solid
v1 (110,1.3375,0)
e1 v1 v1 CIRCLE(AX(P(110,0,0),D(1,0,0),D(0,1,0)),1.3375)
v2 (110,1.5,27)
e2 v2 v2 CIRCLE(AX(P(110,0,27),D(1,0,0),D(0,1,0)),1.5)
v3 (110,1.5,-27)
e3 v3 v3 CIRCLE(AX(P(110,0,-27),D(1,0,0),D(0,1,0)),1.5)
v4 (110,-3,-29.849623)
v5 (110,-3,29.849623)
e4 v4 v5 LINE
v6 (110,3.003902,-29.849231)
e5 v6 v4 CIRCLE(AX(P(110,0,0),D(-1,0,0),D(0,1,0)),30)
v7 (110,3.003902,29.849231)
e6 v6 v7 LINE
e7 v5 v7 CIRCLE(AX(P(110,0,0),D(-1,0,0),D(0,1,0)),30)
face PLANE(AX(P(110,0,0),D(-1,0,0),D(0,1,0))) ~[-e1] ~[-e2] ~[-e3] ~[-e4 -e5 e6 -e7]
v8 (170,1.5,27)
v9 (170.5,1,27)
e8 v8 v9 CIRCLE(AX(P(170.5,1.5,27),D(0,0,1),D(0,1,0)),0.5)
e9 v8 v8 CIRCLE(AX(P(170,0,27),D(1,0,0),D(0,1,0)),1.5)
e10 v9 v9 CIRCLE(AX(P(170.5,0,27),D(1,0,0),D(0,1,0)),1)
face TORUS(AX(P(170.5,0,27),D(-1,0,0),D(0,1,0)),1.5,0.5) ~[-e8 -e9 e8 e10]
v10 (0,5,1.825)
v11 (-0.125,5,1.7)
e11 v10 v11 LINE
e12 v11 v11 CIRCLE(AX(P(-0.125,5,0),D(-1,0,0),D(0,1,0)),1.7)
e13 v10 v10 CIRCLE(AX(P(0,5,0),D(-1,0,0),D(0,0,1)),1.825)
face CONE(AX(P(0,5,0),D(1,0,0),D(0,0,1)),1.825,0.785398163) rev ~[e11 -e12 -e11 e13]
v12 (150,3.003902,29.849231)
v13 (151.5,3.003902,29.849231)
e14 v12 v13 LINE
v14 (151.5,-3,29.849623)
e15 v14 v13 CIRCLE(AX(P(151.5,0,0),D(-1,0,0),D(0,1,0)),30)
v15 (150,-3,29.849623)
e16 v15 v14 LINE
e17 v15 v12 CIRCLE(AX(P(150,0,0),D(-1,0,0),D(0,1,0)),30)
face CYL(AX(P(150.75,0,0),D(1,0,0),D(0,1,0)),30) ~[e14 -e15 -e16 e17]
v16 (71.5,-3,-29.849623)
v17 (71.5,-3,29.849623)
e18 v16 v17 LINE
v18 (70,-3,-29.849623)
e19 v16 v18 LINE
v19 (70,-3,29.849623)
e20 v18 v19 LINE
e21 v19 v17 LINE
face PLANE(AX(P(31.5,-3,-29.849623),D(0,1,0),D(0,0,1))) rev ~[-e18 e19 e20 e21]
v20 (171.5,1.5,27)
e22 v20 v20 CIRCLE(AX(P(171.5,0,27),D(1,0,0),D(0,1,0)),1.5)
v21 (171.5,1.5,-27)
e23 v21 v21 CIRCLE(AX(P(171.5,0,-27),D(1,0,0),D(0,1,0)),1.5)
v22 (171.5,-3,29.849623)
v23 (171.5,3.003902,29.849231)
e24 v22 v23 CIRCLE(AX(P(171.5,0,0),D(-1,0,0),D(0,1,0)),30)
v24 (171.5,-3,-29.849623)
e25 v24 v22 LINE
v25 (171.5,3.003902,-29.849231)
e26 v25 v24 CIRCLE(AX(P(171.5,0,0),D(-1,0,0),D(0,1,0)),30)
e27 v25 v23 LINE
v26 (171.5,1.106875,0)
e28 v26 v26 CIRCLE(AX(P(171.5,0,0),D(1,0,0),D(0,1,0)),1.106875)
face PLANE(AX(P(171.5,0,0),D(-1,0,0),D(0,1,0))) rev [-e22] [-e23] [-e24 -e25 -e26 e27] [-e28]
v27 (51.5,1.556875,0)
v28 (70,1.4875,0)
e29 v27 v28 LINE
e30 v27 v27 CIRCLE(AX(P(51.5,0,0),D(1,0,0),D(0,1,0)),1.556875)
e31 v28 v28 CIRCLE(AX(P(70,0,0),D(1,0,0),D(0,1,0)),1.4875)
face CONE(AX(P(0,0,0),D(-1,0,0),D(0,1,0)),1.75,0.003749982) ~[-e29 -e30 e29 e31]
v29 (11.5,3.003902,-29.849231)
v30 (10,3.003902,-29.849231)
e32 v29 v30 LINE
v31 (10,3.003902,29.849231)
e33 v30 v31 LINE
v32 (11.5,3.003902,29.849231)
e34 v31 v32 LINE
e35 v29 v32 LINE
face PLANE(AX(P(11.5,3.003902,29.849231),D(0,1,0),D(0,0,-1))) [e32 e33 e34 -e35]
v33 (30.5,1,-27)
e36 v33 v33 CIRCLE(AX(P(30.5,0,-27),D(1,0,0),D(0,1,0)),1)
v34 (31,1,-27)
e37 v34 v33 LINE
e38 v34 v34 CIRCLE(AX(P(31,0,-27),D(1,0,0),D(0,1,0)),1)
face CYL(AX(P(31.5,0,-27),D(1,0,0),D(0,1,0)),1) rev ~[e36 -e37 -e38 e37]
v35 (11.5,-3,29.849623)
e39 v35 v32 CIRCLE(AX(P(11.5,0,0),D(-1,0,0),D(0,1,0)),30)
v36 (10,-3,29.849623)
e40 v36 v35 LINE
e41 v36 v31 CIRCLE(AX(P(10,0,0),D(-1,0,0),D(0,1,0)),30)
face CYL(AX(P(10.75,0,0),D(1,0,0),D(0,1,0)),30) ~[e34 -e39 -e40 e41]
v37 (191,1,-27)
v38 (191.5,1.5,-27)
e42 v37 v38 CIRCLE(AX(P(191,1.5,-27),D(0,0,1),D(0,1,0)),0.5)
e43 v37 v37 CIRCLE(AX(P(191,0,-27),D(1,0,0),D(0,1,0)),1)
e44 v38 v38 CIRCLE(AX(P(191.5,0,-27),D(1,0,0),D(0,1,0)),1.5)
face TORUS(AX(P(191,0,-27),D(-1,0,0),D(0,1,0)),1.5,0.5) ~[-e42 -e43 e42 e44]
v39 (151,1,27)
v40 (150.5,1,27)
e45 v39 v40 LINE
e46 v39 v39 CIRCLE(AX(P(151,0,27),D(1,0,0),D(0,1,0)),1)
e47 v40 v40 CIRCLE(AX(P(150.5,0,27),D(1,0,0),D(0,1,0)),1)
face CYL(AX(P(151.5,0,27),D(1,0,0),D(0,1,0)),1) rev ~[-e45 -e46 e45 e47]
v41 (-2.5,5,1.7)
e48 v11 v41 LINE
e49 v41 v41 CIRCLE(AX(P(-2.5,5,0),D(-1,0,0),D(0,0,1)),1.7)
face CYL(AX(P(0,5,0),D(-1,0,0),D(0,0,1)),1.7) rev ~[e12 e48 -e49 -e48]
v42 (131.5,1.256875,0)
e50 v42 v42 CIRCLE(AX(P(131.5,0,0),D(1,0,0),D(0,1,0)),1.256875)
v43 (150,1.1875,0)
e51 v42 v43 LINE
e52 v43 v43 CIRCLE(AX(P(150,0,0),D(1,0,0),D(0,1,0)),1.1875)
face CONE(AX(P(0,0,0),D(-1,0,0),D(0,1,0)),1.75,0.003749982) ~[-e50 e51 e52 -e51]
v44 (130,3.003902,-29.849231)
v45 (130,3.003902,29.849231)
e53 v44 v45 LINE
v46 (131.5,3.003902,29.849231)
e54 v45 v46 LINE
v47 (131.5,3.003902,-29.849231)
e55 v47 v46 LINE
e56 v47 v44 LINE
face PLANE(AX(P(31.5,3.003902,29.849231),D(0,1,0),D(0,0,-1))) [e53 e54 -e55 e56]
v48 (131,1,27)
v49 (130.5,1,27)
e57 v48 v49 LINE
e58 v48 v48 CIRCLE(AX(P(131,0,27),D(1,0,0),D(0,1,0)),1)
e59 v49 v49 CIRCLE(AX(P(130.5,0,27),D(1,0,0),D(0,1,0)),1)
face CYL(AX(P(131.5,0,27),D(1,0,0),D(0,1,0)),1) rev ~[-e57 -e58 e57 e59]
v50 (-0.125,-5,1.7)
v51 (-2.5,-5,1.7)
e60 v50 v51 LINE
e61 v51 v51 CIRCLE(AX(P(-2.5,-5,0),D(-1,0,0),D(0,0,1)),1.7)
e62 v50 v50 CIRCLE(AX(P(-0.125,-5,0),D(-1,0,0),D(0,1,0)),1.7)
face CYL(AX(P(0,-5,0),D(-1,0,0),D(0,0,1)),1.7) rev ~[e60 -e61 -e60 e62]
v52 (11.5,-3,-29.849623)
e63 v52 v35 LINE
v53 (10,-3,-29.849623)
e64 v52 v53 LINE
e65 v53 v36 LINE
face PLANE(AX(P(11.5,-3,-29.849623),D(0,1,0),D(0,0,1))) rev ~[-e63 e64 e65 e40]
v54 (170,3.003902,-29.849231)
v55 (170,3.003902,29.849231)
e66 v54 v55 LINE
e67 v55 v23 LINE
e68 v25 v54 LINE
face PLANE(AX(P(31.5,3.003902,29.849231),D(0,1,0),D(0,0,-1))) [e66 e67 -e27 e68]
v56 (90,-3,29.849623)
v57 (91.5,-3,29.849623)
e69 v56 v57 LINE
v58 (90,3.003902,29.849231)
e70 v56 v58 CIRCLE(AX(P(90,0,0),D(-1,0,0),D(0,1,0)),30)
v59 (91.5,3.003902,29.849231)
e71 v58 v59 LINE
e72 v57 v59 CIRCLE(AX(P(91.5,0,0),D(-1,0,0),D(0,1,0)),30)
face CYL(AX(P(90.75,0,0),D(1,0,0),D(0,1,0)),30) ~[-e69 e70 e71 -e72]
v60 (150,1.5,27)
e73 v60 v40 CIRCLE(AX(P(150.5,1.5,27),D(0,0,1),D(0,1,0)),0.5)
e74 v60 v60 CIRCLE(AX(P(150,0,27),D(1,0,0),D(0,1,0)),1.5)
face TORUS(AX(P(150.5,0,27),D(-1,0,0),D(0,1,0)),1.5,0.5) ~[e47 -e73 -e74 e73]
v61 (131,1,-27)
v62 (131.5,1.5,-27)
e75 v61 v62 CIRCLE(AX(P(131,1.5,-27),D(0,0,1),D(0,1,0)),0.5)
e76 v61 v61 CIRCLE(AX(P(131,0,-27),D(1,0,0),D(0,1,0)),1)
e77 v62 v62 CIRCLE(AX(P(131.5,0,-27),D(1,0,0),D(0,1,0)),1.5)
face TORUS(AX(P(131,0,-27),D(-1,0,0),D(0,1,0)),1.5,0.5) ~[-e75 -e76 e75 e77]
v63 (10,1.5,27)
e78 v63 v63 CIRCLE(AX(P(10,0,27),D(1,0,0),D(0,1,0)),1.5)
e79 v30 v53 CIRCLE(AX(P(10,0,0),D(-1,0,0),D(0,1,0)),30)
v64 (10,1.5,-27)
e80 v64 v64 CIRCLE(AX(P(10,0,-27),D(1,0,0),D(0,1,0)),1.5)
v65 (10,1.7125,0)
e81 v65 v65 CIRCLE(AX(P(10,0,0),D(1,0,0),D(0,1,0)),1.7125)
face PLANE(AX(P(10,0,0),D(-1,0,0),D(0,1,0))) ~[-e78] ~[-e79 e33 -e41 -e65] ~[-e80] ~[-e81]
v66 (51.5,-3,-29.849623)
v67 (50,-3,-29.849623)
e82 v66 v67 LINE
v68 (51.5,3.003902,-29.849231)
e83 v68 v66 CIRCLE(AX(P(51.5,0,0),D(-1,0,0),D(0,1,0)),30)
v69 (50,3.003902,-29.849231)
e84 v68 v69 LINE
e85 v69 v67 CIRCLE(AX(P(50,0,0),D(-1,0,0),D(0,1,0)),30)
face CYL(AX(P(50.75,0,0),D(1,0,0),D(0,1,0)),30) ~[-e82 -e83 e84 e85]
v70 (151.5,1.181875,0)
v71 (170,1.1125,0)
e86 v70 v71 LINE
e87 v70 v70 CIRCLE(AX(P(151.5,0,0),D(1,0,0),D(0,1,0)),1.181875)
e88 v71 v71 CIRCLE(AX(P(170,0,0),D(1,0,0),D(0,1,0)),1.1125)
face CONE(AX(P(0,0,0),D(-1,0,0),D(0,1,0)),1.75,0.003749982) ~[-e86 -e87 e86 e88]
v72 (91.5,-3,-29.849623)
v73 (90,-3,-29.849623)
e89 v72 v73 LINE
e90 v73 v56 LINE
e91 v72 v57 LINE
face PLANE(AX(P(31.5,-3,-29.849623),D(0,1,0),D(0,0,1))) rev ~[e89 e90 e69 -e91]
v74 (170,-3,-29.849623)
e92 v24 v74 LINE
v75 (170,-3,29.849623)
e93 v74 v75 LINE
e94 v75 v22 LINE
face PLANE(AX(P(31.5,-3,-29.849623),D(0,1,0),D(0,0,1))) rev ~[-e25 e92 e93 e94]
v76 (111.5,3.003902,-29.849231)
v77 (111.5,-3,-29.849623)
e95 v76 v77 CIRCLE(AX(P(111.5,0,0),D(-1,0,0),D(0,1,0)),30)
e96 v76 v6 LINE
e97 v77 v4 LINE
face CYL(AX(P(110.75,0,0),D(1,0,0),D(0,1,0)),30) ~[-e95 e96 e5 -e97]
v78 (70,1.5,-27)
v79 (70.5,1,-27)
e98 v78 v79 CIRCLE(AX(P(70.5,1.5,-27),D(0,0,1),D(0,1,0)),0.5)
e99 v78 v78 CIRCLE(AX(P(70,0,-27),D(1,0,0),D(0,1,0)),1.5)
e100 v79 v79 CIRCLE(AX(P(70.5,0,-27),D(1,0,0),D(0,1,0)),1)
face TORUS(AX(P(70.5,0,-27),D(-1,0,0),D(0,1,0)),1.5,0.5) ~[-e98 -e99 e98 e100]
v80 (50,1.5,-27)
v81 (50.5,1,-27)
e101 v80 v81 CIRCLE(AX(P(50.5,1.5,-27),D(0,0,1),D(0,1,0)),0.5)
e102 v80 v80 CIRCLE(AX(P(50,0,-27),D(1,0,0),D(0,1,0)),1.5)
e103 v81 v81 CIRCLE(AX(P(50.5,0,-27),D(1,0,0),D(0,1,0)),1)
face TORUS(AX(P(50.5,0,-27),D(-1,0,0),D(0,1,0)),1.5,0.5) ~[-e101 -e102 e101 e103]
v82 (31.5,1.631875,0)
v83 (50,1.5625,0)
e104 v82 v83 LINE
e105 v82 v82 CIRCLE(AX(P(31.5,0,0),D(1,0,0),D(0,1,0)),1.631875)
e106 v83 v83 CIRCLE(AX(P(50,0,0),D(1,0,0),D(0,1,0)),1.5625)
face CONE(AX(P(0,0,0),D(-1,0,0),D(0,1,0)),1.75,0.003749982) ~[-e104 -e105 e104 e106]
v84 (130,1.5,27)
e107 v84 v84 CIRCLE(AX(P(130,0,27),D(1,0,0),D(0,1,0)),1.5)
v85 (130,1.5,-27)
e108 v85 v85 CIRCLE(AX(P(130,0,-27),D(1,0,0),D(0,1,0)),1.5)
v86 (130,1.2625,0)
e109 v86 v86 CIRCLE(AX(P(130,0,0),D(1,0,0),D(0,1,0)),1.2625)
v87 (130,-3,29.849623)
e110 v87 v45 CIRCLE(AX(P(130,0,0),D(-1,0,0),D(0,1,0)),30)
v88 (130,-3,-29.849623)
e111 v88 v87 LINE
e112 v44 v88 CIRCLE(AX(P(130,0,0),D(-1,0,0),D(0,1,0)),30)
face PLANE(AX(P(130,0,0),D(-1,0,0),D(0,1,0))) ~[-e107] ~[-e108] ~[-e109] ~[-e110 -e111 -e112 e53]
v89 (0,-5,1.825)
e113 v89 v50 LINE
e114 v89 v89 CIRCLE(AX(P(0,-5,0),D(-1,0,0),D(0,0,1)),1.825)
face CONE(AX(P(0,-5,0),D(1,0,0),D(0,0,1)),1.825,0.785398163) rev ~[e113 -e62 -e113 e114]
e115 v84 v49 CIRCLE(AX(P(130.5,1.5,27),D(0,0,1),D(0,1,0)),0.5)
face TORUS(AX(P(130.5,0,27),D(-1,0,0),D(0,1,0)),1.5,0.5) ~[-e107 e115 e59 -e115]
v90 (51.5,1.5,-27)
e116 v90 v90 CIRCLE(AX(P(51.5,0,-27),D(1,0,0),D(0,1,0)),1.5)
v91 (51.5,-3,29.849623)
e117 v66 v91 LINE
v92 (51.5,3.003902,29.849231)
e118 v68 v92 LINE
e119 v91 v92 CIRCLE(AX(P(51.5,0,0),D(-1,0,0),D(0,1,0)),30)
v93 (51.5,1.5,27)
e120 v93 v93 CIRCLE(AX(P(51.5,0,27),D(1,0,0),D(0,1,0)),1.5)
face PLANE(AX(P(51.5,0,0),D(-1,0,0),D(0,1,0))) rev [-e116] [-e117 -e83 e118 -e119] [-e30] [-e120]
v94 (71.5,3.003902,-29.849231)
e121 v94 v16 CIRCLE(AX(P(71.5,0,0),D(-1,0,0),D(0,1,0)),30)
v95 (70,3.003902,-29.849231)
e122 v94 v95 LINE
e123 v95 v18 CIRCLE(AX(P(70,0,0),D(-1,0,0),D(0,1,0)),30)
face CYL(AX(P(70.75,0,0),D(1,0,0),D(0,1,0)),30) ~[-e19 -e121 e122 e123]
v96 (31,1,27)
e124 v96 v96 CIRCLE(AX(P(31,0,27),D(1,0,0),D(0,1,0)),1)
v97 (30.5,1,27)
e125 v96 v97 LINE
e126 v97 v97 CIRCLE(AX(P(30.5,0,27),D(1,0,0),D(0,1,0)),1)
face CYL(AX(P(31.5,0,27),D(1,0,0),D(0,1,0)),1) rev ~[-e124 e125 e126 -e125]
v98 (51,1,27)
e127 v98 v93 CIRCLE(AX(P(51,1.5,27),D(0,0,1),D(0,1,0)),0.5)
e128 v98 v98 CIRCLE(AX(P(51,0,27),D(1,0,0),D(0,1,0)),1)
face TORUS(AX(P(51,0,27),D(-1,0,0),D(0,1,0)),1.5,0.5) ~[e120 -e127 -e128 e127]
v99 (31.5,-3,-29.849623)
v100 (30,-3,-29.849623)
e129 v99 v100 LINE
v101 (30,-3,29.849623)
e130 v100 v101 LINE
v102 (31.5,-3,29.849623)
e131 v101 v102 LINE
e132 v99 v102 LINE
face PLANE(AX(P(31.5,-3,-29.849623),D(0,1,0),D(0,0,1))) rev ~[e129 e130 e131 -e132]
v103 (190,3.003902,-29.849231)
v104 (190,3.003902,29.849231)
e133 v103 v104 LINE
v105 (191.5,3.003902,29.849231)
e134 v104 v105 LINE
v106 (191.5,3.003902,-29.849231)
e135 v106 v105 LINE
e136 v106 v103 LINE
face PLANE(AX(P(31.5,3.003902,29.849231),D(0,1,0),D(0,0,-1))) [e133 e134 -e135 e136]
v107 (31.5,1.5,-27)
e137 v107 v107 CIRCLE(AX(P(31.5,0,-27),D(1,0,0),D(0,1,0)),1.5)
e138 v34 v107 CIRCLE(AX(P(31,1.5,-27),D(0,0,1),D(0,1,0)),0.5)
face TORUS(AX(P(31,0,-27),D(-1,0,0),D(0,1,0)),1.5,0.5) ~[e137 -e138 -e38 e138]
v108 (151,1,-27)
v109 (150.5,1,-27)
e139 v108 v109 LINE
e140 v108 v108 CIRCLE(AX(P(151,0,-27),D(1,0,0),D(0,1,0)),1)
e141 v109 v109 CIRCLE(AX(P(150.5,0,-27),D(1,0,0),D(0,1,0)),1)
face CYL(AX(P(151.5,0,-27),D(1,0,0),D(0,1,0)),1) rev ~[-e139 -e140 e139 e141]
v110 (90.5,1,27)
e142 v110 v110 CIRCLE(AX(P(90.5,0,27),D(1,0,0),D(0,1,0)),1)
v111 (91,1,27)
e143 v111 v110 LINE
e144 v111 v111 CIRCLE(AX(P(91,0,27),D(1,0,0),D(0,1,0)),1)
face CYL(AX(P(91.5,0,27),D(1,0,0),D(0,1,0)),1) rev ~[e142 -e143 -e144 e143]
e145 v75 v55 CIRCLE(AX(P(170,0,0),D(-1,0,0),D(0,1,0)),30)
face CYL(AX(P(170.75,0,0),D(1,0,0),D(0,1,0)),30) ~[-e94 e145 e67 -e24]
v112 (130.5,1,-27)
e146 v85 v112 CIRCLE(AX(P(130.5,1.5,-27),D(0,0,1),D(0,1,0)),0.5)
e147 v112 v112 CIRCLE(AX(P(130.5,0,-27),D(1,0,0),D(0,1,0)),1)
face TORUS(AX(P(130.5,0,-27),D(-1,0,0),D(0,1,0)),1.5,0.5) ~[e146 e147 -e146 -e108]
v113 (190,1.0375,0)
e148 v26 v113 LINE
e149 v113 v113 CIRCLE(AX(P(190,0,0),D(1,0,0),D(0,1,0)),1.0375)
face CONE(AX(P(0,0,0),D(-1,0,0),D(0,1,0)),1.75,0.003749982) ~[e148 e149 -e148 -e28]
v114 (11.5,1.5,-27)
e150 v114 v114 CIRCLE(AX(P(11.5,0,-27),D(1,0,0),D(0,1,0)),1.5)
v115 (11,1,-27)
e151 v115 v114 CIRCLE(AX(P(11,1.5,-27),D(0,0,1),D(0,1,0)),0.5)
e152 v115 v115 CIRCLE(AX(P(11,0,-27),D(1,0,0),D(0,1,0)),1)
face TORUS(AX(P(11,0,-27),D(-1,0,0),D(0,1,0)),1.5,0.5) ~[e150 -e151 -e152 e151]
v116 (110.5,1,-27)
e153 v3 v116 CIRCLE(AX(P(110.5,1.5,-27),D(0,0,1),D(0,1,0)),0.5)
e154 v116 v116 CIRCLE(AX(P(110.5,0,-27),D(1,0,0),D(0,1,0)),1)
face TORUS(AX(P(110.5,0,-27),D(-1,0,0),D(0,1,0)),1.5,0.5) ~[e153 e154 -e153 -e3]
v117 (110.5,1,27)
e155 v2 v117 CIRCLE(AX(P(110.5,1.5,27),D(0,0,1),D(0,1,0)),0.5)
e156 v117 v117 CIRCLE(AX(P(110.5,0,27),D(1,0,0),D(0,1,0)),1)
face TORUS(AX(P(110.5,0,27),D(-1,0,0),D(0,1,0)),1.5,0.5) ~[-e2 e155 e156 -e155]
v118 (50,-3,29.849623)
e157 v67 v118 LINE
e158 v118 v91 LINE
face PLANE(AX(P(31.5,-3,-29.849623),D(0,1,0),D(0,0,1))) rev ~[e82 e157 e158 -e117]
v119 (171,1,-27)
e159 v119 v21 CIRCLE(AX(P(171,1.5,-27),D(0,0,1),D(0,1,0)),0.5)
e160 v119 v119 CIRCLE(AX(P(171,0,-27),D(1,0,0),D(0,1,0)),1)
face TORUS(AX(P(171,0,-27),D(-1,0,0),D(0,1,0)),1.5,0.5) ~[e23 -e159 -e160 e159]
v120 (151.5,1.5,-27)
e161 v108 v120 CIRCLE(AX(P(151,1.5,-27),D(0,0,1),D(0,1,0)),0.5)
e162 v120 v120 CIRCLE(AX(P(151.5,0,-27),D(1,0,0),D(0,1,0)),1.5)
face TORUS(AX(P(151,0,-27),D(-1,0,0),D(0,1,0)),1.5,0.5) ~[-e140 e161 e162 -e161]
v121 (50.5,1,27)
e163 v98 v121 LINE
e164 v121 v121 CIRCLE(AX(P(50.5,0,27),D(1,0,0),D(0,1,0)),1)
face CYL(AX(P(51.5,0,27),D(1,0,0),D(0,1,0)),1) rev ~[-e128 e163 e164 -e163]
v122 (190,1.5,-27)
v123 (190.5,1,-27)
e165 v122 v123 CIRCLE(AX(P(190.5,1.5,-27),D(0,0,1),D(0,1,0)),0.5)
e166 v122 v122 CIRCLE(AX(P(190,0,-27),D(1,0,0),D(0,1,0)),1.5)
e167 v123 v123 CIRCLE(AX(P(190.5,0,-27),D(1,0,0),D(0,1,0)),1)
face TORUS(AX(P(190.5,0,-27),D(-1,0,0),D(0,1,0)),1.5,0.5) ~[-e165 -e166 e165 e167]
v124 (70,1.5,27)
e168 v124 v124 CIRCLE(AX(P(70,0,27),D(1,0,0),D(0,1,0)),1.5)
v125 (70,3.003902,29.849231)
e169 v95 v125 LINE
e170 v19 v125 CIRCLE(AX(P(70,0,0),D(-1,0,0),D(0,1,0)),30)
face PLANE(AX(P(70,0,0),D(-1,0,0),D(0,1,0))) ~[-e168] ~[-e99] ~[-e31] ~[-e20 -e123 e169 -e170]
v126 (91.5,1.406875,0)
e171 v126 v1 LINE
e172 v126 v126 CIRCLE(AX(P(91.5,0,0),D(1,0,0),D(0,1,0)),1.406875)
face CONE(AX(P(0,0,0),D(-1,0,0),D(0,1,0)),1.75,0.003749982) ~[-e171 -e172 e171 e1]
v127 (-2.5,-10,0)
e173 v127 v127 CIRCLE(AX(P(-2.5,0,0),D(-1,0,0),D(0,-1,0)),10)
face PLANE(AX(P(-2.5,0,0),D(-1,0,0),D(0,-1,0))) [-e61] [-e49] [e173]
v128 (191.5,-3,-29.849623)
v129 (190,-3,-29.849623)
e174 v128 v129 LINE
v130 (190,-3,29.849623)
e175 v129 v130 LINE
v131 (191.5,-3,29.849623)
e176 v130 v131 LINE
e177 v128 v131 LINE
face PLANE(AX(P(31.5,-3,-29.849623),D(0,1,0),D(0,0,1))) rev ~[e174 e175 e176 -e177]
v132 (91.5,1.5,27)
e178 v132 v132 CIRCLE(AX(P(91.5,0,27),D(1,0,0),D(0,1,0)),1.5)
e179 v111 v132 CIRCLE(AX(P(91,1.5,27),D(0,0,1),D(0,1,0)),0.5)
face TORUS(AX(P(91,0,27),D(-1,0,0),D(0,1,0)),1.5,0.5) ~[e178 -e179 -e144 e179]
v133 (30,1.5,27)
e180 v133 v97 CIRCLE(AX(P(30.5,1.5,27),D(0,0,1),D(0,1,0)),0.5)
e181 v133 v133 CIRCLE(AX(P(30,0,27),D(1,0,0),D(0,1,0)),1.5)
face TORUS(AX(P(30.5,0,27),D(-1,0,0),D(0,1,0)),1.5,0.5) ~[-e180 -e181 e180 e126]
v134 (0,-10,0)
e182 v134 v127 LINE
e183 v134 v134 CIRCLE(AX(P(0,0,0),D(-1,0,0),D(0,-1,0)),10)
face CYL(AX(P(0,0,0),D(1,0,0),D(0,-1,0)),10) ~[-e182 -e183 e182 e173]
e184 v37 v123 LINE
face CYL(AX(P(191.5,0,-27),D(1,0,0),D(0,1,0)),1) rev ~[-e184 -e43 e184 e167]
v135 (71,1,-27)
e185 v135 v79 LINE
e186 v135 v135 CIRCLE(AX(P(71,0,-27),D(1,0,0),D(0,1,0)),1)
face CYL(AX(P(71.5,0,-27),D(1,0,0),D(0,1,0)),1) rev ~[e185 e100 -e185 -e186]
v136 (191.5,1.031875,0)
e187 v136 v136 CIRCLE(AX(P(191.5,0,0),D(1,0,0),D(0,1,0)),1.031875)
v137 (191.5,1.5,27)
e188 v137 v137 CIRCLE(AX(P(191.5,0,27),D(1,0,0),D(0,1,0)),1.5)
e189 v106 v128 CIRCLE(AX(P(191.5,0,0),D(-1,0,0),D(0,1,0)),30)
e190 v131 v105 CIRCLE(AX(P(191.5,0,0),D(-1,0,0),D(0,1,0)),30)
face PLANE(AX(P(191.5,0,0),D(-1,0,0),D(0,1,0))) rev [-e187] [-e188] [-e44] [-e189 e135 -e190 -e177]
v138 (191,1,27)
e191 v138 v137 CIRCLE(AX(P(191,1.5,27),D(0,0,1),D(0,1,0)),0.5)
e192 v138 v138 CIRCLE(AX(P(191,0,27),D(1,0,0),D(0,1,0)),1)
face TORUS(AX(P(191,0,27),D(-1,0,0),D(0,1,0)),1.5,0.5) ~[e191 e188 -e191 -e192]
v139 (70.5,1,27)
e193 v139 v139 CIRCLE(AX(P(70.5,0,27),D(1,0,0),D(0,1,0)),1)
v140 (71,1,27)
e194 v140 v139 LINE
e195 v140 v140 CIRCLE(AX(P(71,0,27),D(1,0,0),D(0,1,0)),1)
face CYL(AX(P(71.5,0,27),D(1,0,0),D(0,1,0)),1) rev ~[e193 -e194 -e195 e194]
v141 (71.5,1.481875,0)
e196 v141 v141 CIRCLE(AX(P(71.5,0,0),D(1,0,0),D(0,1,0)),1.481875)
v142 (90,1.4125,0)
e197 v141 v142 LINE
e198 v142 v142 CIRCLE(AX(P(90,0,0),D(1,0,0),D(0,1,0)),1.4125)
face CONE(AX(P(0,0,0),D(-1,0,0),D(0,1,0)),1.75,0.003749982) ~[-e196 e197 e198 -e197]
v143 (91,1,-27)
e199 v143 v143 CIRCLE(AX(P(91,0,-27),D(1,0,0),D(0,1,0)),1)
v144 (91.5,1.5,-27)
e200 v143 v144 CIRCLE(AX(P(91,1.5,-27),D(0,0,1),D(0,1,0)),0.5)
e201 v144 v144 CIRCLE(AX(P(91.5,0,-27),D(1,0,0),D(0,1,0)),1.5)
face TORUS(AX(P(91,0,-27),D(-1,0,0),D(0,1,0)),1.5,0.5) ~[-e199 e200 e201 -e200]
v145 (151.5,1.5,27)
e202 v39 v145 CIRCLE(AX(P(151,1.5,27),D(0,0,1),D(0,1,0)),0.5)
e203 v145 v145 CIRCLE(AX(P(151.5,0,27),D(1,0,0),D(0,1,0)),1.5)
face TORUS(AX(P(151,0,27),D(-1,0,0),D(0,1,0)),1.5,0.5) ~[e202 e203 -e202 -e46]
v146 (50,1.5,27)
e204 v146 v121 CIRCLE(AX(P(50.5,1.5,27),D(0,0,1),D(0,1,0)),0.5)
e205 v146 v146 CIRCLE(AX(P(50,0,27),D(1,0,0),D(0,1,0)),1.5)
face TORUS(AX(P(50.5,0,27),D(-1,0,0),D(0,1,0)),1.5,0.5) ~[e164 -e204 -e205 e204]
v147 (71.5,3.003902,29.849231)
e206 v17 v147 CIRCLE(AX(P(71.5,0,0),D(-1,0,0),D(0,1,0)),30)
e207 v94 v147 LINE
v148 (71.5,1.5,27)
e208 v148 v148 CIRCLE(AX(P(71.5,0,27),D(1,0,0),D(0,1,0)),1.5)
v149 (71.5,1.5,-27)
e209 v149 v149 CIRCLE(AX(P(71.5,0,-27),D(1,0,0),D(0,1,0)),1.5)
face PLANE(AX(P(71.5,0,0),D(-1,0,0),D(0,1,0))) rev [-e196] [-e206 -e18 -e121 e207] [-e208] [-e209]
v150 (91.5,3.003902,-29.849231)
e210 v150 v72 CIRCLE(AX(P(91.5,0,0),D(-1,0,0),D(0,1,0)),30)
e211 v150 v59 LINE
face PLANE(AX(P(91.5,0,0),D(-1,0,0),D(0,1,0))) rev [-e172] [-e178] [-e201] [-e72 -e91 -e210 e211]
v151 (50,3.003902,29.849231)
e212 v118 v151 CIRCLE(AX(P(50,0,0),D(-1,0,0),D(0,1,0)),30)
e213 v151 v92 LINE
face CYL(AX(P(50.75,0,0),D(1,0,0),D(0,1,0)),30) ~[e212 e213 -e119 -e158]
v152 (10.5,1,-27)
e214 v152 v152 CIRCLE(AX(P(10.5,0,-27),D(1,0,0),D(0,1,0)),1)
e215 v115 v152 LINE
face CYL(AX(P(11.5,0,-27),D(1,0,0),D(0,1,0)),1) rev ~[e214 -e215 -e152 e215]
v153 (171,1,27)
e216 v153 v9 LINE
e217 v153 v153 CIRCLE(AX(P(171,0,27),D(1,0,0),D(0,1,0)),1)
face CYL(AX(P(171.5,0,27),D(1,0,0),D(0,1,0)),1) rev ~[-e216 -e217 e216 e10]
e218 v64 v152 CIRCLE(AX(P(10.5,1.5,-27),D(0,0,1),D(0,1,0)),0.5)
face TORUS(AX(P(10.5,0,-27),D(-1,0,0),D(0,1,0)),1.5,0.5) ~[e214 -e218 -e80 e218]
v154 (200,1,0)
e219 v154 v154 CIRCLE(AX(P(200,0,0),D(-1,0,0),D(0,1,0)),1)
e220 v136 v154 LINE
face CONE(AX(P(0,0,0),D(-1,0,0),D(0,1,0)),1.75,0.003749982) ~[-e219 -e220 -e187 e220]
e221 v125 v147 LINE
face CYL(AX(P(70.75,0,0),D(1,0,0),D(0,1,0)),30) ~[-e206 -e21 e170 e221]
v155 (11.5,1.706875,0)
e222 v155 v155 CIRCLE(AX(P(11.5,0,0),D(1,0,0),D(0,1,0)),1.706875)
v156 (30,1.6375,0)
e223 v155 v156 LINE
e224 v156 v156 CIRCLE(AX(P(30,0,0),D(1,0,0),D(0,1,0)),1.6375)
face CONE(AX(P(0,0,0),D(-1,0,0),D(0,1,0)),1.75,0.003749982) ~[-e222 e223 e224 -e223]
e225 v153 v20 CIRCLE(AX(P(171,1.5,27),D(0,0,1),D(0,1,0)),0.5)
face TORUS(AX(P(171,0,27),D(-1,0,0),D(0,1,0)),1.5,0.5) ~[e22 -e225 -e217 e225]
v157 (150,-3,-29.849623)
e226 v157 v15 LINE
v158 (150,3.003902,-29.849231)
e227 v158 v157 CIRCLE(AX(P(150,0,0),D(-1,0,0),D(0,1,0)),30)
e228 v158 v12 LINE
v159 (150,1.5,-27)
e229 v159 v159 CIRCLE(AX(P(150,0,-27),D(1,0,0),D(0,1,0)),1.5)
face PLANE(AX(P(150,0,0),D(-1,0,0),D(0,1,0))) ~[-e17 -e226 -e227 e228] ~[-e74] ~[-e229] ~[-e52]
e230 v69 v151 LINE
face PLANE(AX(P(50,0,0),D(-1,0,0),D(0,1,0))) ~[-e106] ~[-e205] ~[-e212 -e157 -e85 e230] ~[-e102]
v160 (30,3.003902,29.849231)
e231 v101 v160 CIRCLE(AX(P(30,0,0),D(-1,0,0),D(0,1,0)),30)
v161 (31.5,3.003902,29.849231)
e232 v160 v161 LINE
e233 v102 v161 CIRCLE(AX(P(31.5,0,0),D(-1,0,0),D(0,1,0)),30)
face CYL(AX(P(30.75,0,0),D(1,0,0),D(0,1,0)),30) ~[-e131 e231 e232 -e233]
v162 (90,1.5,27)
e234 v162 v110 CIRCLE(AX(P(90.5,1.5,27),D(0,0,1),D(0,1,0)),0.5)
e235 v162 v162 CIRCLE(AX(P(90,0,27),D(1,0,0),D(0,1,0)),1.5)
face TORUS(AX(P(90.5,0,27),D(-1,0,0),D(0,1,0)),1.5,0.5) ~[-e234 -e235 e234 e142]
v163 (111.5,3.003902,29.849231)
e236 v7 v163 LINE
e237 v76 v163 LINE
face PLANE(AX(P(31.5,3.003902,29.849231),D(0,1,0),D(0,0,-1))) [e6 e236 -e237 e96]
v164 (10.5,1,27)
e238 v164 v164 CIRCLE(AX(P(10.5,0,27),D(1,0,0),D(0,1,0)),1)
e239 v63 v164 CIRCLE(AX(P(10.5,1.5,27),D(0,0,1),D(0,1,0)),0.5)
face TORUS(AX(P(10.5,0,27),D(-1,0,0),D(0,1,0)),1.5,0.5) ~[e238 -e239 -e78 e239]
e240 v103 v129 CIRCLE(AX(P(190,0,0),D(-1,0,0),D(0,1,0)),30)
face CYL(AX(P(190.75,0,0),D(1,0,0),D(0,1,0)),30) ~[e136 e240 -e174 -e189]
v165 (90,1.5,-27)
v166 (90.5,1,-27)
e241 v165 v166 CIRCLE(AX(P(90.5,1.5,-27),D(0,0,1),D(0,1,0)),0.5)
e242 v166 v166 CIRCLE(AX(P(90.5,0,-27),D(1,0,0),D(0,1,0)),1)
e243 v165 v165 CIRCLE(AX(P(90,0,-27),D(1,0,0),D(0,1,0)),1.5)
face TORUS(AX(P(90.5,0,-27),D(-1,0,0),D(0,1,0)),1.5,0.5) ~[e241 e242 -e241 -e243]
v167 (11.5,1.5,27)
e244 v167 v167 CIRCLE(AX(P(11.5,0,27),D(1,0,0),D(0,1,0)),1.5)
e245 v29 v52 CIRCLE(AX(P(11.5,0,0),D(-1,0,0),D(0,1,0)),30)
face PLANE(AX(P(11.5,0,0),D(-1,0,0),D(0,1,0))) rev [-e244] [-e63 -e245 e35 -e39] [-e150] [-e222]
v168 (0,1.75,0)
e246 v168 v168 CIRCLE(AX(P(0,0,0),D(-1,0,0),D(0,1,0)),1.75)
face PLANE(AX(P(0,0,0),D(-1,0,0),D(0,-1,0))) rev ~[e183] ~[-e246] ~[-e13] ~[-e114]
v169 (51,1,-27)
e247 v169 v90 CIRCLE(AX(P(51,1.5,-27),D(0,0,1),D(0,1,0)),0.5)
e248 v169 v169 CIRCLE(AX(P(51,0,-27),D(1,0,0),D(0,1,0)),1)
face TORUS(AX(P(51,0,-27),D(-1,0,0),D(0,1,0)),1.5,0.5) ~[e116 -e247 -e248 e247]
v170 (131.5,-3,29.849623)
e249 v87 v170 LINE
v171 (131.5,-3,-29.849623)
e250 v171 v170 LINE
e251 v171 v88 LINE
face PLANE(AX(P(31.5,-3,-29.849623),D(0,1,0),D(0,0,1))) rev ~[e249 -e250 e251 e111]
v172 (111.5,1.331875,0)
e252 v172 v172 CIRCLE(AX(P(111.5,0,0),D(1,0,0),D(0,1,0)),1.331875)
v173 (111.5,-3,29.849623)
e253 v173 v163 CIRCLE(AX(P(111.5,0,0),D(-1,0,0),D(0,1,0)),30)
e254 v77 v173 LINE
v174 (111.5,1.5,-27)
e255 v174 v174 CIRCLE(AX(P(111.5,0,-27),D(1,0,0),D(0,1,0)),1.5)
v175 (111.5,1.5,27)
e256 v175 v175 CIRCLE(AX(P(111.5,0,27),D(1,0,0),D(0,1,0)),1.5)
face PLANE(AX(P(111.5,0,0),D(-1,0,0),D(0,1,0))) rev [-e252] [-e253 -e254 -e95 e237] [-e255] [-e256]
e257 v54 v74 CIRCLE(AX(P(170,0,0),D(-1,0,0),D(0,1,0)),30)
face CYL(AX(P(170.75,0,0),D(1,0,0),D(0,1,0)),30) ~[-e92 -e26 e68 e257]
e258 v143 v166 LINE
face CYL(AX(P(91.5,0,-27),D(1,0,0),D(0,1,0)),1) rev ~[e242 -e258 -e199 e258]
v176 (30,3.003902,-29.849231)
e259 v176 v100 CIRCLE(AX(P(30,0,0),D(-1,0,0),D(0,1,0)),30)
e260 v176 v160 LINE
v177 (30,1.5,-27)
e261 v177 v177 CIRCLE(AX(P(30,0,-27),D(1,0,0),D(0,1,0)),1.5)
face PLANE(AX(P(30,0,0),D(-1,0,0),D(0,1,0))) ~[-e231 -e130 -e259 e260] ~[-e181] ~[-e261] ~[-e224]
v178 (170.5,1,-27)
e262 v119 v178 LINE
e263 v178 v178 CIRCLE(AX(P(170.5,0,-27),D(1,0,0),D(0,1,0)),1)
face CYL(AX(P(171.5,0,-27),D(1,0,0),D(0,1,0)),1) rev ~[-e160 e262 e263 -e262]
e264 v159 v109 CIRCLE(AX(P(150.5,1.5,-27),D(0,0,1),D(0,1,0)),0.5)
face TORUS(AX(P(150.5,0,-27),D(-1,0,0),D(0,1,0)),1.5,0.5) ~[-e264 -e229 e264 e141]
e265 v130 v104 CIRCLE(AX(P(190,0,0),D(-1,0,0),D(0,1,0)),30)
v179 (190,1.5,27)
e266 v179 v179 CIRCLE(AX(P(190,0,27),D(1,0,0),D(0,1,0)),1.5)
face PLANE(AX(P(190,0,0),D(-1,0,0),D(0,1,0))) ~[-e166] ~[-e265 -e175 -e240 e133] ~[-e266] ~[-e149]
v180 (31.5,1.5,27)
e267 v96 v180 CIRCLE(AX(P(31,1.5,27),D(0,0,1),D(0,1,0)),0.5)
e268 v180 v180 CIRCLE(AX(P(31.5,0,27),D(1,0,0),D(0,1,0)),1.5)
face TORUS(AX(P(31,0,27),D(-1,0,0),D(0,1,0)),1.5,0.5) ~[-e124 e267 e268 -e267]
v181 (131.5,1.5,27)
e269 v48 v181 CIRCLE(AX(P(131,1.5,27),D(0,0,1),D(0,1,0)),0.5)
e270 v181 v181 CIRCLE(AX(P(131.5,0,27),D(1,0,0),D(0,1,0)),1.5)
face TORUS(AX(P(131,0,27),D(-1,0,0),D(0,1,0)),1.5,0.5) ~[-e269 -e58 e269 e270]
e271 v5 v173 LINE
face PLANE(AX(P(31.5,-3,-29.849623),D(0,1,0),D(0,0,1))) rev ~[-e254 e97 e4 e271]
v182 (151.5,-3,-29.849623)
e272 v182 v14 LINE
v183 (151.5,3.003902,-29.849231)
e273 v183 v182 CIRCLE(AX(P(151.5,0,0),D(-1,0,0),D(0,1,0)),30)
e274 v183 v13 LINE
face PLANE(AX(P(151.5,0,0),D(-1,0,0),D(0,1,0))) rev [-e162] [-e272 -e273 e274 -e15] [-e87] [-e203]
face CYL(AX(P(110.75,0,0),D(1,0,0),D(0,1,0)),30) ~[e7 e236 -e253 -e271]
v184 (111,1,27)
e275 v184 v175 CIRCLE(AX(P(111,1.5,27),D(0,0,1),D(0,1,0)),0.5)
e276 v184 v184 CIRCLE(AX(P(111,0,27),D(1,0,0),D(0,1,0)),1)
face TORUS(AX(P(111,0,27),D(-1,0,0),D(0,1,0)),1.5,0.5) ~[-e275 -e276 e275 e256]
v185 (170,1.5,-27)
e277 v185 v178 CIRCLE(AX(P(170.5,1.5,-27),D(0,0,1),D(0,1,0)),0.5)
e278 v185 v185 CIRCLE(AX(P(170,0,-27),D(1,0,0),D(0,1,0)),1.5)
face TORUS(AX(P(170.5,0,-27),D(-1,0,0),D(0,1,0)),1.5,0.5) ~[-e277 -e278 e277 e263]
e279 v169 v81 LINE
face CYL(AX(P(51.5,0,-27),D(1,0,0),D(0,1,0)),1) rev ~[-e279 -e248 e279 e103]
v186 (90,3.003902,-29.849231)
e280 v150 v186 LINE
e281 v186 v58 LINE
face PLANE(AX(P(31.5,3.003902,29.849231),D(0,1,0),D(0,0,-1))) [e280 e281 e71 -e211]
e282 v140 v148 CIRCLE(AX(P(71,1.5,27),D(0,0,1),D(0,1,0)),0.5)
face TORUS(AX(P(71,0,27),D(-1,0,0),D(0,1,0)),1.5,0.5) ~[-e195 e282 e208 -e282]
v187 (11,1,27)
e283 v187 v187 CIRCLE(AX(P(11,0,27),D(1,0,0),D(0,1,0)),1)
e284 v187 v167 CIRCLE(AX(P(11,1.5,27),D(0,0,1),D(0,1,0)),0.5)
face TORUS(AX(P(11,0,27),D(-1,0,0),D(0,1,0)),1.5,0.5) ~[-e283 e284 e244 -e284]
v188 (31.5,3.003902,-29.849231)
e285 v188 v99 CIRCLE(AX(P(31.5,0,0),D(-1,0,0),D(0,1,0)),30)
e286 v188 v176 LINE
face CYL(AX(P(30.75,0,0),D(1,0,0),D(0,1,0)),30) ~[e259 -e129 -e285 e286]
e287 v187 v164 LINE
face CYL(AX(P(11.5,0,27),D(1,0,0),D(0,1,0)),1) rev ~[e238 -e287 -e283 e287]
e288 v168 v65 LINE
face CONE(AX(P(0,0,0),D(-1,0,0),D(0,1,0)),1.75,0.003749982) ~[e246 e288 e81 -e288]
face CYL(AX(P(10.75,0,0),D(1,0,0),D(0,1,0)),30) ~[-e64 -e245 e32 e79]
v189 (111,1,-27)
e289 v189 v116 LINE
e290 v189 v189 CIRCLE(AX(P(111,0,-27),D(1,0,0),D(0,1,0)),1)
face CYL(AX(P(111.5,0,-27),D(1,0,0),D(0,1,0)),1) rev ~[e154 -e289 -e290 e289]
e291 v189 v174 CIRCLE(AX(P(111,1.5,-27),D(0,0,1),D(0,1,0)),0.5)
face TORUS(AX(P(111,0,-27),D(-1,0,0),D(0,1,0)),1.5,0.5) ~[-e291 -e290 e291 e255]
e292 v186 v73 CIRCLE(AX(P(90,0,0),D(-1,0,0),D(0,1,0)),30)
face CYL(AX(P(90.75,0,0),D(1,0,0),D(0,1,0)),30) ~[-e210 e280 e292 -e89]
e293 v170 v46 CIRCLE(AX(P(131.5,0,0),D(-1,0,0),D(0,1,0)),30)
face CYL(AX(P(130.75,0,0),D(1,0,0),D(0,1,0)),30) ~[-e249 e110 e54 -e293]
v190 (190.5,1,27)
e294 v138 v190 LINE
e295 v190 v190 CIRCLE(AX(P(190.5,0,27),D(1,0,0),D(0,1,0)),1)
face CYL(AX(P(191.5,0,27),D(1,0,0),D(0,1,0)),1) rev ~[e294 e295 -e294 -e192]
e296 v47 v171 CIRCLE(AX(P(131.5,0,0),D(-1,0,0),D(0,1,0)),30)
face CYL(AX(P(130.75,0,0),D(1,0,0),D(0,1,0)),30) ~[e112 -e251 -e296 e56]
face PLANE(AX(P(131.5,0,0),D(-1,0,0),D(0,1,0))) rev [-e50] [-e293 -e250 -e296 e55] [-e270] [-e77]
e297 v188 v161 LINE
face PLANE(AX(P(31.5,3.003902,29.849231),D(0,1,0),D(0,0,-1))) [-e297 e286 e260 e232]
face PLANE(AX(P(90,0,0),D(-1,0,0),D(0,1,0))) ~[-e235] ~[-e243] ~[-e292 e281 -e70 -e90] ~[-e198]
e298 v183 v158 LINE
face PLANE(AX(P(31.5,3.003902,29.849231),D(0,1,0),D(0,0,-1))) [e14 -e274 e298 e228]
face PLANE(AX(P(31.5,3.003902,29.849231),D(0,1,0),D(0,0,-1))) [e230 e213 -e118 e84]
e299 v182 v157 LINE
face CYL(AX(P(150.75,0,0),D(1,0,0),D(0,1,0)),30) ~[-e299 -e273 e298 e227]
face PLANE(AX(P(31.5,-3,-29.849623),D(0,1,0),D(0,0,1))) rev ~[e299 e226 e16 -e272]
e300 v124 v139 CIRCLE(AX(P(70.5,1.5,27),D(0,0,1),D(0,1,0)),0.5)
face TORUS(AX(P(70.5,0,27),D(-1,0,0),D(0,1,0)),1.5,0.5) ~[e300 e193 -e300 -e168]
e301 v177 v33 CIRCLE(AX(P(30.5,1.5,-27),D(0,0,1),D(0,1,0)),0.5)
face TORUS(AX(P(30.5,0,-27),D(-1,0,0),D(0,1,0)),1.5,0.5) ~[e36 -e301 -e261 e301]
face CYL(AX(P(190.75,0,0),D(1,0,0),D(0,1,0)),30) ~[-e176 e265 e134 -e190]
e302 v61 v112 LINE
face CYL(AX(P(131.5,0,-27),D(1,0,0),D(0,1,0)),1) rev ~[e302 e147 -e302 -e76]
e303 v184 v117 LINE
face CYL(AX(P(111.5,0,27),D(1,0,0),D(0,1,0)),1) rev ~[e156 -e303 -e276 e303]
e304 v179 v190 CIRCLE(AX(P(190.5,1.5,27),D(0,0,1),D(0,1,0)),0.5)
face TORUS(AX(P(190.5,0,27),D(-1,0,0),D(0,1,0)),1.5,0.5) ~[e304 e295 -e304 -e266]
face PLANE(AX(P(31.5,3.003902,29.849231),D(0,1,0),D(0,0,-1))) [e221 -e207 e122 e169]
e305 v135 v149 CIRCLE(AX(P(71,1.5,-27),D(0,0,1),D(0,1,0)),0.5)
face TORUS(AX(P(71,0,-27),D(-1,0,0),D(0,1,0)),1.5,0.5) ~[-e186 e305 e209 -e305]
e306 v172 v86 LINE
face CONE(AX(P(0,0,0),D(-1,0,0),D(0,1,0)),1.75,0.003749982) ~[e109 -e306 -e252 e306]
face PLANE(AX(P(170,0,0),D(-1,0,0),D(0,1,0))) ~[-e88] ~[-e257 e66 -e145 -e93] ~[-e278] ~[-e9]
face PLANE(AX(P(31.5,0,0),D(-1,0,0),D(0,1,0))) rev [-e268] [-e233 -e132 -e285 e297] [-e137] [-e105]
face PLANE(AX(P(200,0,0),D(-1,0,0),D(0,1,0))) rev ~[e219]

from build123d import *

# Parameters (mm, degrees)
SKETCH3_W                      = 1.5
SKETCH3_H                      = 30
CUT_EXTRUDE1_REACH             = 195.216
SKETCH5_R                      = 1
FILLET1_R                      = 0.5
CUT_EXTRUDE2_DEPTH             = 194.215553204
LPATTERN1_COUNT                = 10
LPATTERN1_PITCH                = 20
FILLET1_OF_LPATTERN1_R         = 0.5
SKETCH16_R                     = 10
BOSS_EXTRUDE1_DEPTH            = 2.5
M3_CLEARANCE_HOLE2_D           = 3.4
M3_CLEARANCE_HOLE2_CSINK_D     = 3.65
M3_CLEARANCE_HOLE2_CSINK_ANGLE = 90


with BuildPart() as part:
    # Sketch2 → Revolve1 (revolve)
    with BuildSketch(Plane.XY):
        Polygon((0, 1.75), (200, 1), (200, 0), (0, 0), align=None)
    revolve(axis=Axis((200, 0, 0), (-1, 0, 0)))

    # Sketch3 → Revolve2 (revolve)
    with BuildSketch(Plane.XY):
        with Locations((10.75, 15)):
            Rectangle(SKETCH3_W, SKETCH3_H)
    revolve2 = revolve(axis=Axis((11.5, 0, 0), (-1, 0, 0)))

    # Sketch5 → Cut-Extrude1 (cut, up to next)
    with BuildSketch(Plane(origin=(11.5, 0, 0), x_dir=(0, 0, -1), z_dir=(1, 0, 0)), mode=Mode.PRIVATE) as cut_extrude1_sk1:
        with Locations(Location((-27, 0, 0), (0, 0, 90))):
            Circle(SKETCH5_R)
    cut_extrude1_tool1 = extrude(cut_extrude1_sk1.sketch, amount=-CUT_EXTRUDE1_REACH, mode=Mode.PRIVATE) & part.part
    # Sketch5 → Cut-Extrude1 (cut, up to next)
    with BuildSketch(Plane(origin=(11.5, 0, 0), x_dir=(0, 0, -1), z_dir=(1, 0, 0)), mode=Mode.PRIVATE) as cut_extrude1_sk2:
        with Locations(Location((27, 0, 0), (0, 0, 90))):
            Circle(SKETCH5_R)
    cut_extrude1_tool2 = extrude(cut_extrude1_sk2.sketch, amount=-CUT_EXTRUDE1_REACH, mode=Mode.PRIVATE) & part.part
    cut_extrude1_1 = cut_extrude1_tool1.solids().sort_by_distance((11.5, 0, 27))[0]
    add(cut_extrude1_1, mode=Mode.SUBTRACT)
    cut_extrude1_2 = cut_extrude1_tool2.solids().sort_by_distance((11.5, 0, -27))[0]
    add(cut_extrude1_2, mode=Mode.SUBTRACT)
    cut_extrude1 = cut_extrude1_1 + cut_extrude1_2  # Cut-Extrude1 as one shape, for the pattern or mirror that repeats it

    # Fillet1
    fillet1_edges = [part.edges().sort_by_distance(p)[0] for p in [
        (10, -1, 27),
        (11.5, -1, 27),
        (10, -1, -27),
        (11.5, -1, -27),
    ]]
    fillet(fillet1_edges, radius=FILLET1_R)

    # Sketch24 → Cut-Extrude2 (cut, symmetric)
    with BuildSketch(Plane(origin=(11.5, 0, 0), x_dir=(0, 0, -1), z_dir=(1, 0, 0))):
        with BuildLine():
            ThreePointArc((29.849230662, 3.003902276), (0, 30), (-29.849230662, 3.003902276))
            Line((-29.849230662, 3.003902276), (29.849230662, 3.003902276))
        make_face()
        with BuildLine():
            Line((29.849623113, -3), (-29.849623113, -3))
            ThreePointArc((-29.849623113, -3), (0, -30), (29.849623113, -3))
        make_face()
    cut_extrude2 = extrude(amount=CUT_EXTRUDE2_DEPTH, both=True, mode=Mode.SUBTRACT)

    # LPattern1: Revolve2, Cut-Extrude1, Cut-Extrude2 ×10
    with Locations(*[(i * LPATTERN1_PITCH, 0, 0) for i in range(1, LPATTERN1_COUNT)]):
        add(revolve2)
        add(cut_extrude1, mode=Mode.SUBTRACT)
        add(cut_extrude2, mode=Mode.SUBTRACT)

    # Fillet1 of LPattern1
    fillet1_of_lpattern1_edges = [part.edges().sort_by_distance(p)[0] for p in [
        (30, -1, 27),
        (31.5, -1, 27),
        (30, -1, -27),
        (31.5, -1, -27),
        (50, -1, 27),
        (51.5, -1, 27),
        (50, -1, -27),
        (51.5, -1, -27),
        (70, -1, 27),
        (71.5, -1, 27),
        (70, -1, -27),
        (71.5, -1, -27),
        (90, -1, 27),
        (91.5, -1, 27),
        (90, -1, -27),
        (91.5, -1, -27),
        (110, -1, 27),
        (111.5, -1, 27),
        (110, -1, -27),
        (111.5, -1, -27),
        (130, -1, 27),
        (131.5, -1, 27),
        (130, -1, -27),
        (131.5, -1, -27),
        (150, -1, 27),
        (151.5, -1, 27),
        (150, -1, -27),
        (151.5, -1, -27),
        (170, -1, 27),
        (171.5, -1, 27),
        (170, -1, -27),
        (171.5, -1, -27),
        (190, -1, 27),
        (191.5, -1, 27),
        (190, -1, -27),
        (191.5, -1, -27),
    ]]
    fillet(fillet1_of_lpattern1_edges, radius=FILLET1_OF_LPATTERN1_R)

    # Sketch16 → Boss-Extrude1 (add)
    with BuildSketch(Plane.ZY):
        with Locations(Location((0, 0, 0), (0, 0, 270))):
            Circle(SKETCH16_R)
    extrude(amount=BOSS_EXTRUDE1_DEPTH)

    # M3 Clearance Hole2 (through all)
    with Locations(Plane(origin=(0, 0, 0), x_dir=(0, 0, -1), z_dir=(1, 0, 0))):
        with Locations((0, 5), (0, -5)):
            CounterSinkHole(M3_CLEARANCE_HOLE2_D / 2, M3_CLEARANCE_HOLE2_CSINK_D / 2, counter_sink_angle=M3_CLEARANCE_HOLE2_CSINK_ANGLE)


solid = part.part
